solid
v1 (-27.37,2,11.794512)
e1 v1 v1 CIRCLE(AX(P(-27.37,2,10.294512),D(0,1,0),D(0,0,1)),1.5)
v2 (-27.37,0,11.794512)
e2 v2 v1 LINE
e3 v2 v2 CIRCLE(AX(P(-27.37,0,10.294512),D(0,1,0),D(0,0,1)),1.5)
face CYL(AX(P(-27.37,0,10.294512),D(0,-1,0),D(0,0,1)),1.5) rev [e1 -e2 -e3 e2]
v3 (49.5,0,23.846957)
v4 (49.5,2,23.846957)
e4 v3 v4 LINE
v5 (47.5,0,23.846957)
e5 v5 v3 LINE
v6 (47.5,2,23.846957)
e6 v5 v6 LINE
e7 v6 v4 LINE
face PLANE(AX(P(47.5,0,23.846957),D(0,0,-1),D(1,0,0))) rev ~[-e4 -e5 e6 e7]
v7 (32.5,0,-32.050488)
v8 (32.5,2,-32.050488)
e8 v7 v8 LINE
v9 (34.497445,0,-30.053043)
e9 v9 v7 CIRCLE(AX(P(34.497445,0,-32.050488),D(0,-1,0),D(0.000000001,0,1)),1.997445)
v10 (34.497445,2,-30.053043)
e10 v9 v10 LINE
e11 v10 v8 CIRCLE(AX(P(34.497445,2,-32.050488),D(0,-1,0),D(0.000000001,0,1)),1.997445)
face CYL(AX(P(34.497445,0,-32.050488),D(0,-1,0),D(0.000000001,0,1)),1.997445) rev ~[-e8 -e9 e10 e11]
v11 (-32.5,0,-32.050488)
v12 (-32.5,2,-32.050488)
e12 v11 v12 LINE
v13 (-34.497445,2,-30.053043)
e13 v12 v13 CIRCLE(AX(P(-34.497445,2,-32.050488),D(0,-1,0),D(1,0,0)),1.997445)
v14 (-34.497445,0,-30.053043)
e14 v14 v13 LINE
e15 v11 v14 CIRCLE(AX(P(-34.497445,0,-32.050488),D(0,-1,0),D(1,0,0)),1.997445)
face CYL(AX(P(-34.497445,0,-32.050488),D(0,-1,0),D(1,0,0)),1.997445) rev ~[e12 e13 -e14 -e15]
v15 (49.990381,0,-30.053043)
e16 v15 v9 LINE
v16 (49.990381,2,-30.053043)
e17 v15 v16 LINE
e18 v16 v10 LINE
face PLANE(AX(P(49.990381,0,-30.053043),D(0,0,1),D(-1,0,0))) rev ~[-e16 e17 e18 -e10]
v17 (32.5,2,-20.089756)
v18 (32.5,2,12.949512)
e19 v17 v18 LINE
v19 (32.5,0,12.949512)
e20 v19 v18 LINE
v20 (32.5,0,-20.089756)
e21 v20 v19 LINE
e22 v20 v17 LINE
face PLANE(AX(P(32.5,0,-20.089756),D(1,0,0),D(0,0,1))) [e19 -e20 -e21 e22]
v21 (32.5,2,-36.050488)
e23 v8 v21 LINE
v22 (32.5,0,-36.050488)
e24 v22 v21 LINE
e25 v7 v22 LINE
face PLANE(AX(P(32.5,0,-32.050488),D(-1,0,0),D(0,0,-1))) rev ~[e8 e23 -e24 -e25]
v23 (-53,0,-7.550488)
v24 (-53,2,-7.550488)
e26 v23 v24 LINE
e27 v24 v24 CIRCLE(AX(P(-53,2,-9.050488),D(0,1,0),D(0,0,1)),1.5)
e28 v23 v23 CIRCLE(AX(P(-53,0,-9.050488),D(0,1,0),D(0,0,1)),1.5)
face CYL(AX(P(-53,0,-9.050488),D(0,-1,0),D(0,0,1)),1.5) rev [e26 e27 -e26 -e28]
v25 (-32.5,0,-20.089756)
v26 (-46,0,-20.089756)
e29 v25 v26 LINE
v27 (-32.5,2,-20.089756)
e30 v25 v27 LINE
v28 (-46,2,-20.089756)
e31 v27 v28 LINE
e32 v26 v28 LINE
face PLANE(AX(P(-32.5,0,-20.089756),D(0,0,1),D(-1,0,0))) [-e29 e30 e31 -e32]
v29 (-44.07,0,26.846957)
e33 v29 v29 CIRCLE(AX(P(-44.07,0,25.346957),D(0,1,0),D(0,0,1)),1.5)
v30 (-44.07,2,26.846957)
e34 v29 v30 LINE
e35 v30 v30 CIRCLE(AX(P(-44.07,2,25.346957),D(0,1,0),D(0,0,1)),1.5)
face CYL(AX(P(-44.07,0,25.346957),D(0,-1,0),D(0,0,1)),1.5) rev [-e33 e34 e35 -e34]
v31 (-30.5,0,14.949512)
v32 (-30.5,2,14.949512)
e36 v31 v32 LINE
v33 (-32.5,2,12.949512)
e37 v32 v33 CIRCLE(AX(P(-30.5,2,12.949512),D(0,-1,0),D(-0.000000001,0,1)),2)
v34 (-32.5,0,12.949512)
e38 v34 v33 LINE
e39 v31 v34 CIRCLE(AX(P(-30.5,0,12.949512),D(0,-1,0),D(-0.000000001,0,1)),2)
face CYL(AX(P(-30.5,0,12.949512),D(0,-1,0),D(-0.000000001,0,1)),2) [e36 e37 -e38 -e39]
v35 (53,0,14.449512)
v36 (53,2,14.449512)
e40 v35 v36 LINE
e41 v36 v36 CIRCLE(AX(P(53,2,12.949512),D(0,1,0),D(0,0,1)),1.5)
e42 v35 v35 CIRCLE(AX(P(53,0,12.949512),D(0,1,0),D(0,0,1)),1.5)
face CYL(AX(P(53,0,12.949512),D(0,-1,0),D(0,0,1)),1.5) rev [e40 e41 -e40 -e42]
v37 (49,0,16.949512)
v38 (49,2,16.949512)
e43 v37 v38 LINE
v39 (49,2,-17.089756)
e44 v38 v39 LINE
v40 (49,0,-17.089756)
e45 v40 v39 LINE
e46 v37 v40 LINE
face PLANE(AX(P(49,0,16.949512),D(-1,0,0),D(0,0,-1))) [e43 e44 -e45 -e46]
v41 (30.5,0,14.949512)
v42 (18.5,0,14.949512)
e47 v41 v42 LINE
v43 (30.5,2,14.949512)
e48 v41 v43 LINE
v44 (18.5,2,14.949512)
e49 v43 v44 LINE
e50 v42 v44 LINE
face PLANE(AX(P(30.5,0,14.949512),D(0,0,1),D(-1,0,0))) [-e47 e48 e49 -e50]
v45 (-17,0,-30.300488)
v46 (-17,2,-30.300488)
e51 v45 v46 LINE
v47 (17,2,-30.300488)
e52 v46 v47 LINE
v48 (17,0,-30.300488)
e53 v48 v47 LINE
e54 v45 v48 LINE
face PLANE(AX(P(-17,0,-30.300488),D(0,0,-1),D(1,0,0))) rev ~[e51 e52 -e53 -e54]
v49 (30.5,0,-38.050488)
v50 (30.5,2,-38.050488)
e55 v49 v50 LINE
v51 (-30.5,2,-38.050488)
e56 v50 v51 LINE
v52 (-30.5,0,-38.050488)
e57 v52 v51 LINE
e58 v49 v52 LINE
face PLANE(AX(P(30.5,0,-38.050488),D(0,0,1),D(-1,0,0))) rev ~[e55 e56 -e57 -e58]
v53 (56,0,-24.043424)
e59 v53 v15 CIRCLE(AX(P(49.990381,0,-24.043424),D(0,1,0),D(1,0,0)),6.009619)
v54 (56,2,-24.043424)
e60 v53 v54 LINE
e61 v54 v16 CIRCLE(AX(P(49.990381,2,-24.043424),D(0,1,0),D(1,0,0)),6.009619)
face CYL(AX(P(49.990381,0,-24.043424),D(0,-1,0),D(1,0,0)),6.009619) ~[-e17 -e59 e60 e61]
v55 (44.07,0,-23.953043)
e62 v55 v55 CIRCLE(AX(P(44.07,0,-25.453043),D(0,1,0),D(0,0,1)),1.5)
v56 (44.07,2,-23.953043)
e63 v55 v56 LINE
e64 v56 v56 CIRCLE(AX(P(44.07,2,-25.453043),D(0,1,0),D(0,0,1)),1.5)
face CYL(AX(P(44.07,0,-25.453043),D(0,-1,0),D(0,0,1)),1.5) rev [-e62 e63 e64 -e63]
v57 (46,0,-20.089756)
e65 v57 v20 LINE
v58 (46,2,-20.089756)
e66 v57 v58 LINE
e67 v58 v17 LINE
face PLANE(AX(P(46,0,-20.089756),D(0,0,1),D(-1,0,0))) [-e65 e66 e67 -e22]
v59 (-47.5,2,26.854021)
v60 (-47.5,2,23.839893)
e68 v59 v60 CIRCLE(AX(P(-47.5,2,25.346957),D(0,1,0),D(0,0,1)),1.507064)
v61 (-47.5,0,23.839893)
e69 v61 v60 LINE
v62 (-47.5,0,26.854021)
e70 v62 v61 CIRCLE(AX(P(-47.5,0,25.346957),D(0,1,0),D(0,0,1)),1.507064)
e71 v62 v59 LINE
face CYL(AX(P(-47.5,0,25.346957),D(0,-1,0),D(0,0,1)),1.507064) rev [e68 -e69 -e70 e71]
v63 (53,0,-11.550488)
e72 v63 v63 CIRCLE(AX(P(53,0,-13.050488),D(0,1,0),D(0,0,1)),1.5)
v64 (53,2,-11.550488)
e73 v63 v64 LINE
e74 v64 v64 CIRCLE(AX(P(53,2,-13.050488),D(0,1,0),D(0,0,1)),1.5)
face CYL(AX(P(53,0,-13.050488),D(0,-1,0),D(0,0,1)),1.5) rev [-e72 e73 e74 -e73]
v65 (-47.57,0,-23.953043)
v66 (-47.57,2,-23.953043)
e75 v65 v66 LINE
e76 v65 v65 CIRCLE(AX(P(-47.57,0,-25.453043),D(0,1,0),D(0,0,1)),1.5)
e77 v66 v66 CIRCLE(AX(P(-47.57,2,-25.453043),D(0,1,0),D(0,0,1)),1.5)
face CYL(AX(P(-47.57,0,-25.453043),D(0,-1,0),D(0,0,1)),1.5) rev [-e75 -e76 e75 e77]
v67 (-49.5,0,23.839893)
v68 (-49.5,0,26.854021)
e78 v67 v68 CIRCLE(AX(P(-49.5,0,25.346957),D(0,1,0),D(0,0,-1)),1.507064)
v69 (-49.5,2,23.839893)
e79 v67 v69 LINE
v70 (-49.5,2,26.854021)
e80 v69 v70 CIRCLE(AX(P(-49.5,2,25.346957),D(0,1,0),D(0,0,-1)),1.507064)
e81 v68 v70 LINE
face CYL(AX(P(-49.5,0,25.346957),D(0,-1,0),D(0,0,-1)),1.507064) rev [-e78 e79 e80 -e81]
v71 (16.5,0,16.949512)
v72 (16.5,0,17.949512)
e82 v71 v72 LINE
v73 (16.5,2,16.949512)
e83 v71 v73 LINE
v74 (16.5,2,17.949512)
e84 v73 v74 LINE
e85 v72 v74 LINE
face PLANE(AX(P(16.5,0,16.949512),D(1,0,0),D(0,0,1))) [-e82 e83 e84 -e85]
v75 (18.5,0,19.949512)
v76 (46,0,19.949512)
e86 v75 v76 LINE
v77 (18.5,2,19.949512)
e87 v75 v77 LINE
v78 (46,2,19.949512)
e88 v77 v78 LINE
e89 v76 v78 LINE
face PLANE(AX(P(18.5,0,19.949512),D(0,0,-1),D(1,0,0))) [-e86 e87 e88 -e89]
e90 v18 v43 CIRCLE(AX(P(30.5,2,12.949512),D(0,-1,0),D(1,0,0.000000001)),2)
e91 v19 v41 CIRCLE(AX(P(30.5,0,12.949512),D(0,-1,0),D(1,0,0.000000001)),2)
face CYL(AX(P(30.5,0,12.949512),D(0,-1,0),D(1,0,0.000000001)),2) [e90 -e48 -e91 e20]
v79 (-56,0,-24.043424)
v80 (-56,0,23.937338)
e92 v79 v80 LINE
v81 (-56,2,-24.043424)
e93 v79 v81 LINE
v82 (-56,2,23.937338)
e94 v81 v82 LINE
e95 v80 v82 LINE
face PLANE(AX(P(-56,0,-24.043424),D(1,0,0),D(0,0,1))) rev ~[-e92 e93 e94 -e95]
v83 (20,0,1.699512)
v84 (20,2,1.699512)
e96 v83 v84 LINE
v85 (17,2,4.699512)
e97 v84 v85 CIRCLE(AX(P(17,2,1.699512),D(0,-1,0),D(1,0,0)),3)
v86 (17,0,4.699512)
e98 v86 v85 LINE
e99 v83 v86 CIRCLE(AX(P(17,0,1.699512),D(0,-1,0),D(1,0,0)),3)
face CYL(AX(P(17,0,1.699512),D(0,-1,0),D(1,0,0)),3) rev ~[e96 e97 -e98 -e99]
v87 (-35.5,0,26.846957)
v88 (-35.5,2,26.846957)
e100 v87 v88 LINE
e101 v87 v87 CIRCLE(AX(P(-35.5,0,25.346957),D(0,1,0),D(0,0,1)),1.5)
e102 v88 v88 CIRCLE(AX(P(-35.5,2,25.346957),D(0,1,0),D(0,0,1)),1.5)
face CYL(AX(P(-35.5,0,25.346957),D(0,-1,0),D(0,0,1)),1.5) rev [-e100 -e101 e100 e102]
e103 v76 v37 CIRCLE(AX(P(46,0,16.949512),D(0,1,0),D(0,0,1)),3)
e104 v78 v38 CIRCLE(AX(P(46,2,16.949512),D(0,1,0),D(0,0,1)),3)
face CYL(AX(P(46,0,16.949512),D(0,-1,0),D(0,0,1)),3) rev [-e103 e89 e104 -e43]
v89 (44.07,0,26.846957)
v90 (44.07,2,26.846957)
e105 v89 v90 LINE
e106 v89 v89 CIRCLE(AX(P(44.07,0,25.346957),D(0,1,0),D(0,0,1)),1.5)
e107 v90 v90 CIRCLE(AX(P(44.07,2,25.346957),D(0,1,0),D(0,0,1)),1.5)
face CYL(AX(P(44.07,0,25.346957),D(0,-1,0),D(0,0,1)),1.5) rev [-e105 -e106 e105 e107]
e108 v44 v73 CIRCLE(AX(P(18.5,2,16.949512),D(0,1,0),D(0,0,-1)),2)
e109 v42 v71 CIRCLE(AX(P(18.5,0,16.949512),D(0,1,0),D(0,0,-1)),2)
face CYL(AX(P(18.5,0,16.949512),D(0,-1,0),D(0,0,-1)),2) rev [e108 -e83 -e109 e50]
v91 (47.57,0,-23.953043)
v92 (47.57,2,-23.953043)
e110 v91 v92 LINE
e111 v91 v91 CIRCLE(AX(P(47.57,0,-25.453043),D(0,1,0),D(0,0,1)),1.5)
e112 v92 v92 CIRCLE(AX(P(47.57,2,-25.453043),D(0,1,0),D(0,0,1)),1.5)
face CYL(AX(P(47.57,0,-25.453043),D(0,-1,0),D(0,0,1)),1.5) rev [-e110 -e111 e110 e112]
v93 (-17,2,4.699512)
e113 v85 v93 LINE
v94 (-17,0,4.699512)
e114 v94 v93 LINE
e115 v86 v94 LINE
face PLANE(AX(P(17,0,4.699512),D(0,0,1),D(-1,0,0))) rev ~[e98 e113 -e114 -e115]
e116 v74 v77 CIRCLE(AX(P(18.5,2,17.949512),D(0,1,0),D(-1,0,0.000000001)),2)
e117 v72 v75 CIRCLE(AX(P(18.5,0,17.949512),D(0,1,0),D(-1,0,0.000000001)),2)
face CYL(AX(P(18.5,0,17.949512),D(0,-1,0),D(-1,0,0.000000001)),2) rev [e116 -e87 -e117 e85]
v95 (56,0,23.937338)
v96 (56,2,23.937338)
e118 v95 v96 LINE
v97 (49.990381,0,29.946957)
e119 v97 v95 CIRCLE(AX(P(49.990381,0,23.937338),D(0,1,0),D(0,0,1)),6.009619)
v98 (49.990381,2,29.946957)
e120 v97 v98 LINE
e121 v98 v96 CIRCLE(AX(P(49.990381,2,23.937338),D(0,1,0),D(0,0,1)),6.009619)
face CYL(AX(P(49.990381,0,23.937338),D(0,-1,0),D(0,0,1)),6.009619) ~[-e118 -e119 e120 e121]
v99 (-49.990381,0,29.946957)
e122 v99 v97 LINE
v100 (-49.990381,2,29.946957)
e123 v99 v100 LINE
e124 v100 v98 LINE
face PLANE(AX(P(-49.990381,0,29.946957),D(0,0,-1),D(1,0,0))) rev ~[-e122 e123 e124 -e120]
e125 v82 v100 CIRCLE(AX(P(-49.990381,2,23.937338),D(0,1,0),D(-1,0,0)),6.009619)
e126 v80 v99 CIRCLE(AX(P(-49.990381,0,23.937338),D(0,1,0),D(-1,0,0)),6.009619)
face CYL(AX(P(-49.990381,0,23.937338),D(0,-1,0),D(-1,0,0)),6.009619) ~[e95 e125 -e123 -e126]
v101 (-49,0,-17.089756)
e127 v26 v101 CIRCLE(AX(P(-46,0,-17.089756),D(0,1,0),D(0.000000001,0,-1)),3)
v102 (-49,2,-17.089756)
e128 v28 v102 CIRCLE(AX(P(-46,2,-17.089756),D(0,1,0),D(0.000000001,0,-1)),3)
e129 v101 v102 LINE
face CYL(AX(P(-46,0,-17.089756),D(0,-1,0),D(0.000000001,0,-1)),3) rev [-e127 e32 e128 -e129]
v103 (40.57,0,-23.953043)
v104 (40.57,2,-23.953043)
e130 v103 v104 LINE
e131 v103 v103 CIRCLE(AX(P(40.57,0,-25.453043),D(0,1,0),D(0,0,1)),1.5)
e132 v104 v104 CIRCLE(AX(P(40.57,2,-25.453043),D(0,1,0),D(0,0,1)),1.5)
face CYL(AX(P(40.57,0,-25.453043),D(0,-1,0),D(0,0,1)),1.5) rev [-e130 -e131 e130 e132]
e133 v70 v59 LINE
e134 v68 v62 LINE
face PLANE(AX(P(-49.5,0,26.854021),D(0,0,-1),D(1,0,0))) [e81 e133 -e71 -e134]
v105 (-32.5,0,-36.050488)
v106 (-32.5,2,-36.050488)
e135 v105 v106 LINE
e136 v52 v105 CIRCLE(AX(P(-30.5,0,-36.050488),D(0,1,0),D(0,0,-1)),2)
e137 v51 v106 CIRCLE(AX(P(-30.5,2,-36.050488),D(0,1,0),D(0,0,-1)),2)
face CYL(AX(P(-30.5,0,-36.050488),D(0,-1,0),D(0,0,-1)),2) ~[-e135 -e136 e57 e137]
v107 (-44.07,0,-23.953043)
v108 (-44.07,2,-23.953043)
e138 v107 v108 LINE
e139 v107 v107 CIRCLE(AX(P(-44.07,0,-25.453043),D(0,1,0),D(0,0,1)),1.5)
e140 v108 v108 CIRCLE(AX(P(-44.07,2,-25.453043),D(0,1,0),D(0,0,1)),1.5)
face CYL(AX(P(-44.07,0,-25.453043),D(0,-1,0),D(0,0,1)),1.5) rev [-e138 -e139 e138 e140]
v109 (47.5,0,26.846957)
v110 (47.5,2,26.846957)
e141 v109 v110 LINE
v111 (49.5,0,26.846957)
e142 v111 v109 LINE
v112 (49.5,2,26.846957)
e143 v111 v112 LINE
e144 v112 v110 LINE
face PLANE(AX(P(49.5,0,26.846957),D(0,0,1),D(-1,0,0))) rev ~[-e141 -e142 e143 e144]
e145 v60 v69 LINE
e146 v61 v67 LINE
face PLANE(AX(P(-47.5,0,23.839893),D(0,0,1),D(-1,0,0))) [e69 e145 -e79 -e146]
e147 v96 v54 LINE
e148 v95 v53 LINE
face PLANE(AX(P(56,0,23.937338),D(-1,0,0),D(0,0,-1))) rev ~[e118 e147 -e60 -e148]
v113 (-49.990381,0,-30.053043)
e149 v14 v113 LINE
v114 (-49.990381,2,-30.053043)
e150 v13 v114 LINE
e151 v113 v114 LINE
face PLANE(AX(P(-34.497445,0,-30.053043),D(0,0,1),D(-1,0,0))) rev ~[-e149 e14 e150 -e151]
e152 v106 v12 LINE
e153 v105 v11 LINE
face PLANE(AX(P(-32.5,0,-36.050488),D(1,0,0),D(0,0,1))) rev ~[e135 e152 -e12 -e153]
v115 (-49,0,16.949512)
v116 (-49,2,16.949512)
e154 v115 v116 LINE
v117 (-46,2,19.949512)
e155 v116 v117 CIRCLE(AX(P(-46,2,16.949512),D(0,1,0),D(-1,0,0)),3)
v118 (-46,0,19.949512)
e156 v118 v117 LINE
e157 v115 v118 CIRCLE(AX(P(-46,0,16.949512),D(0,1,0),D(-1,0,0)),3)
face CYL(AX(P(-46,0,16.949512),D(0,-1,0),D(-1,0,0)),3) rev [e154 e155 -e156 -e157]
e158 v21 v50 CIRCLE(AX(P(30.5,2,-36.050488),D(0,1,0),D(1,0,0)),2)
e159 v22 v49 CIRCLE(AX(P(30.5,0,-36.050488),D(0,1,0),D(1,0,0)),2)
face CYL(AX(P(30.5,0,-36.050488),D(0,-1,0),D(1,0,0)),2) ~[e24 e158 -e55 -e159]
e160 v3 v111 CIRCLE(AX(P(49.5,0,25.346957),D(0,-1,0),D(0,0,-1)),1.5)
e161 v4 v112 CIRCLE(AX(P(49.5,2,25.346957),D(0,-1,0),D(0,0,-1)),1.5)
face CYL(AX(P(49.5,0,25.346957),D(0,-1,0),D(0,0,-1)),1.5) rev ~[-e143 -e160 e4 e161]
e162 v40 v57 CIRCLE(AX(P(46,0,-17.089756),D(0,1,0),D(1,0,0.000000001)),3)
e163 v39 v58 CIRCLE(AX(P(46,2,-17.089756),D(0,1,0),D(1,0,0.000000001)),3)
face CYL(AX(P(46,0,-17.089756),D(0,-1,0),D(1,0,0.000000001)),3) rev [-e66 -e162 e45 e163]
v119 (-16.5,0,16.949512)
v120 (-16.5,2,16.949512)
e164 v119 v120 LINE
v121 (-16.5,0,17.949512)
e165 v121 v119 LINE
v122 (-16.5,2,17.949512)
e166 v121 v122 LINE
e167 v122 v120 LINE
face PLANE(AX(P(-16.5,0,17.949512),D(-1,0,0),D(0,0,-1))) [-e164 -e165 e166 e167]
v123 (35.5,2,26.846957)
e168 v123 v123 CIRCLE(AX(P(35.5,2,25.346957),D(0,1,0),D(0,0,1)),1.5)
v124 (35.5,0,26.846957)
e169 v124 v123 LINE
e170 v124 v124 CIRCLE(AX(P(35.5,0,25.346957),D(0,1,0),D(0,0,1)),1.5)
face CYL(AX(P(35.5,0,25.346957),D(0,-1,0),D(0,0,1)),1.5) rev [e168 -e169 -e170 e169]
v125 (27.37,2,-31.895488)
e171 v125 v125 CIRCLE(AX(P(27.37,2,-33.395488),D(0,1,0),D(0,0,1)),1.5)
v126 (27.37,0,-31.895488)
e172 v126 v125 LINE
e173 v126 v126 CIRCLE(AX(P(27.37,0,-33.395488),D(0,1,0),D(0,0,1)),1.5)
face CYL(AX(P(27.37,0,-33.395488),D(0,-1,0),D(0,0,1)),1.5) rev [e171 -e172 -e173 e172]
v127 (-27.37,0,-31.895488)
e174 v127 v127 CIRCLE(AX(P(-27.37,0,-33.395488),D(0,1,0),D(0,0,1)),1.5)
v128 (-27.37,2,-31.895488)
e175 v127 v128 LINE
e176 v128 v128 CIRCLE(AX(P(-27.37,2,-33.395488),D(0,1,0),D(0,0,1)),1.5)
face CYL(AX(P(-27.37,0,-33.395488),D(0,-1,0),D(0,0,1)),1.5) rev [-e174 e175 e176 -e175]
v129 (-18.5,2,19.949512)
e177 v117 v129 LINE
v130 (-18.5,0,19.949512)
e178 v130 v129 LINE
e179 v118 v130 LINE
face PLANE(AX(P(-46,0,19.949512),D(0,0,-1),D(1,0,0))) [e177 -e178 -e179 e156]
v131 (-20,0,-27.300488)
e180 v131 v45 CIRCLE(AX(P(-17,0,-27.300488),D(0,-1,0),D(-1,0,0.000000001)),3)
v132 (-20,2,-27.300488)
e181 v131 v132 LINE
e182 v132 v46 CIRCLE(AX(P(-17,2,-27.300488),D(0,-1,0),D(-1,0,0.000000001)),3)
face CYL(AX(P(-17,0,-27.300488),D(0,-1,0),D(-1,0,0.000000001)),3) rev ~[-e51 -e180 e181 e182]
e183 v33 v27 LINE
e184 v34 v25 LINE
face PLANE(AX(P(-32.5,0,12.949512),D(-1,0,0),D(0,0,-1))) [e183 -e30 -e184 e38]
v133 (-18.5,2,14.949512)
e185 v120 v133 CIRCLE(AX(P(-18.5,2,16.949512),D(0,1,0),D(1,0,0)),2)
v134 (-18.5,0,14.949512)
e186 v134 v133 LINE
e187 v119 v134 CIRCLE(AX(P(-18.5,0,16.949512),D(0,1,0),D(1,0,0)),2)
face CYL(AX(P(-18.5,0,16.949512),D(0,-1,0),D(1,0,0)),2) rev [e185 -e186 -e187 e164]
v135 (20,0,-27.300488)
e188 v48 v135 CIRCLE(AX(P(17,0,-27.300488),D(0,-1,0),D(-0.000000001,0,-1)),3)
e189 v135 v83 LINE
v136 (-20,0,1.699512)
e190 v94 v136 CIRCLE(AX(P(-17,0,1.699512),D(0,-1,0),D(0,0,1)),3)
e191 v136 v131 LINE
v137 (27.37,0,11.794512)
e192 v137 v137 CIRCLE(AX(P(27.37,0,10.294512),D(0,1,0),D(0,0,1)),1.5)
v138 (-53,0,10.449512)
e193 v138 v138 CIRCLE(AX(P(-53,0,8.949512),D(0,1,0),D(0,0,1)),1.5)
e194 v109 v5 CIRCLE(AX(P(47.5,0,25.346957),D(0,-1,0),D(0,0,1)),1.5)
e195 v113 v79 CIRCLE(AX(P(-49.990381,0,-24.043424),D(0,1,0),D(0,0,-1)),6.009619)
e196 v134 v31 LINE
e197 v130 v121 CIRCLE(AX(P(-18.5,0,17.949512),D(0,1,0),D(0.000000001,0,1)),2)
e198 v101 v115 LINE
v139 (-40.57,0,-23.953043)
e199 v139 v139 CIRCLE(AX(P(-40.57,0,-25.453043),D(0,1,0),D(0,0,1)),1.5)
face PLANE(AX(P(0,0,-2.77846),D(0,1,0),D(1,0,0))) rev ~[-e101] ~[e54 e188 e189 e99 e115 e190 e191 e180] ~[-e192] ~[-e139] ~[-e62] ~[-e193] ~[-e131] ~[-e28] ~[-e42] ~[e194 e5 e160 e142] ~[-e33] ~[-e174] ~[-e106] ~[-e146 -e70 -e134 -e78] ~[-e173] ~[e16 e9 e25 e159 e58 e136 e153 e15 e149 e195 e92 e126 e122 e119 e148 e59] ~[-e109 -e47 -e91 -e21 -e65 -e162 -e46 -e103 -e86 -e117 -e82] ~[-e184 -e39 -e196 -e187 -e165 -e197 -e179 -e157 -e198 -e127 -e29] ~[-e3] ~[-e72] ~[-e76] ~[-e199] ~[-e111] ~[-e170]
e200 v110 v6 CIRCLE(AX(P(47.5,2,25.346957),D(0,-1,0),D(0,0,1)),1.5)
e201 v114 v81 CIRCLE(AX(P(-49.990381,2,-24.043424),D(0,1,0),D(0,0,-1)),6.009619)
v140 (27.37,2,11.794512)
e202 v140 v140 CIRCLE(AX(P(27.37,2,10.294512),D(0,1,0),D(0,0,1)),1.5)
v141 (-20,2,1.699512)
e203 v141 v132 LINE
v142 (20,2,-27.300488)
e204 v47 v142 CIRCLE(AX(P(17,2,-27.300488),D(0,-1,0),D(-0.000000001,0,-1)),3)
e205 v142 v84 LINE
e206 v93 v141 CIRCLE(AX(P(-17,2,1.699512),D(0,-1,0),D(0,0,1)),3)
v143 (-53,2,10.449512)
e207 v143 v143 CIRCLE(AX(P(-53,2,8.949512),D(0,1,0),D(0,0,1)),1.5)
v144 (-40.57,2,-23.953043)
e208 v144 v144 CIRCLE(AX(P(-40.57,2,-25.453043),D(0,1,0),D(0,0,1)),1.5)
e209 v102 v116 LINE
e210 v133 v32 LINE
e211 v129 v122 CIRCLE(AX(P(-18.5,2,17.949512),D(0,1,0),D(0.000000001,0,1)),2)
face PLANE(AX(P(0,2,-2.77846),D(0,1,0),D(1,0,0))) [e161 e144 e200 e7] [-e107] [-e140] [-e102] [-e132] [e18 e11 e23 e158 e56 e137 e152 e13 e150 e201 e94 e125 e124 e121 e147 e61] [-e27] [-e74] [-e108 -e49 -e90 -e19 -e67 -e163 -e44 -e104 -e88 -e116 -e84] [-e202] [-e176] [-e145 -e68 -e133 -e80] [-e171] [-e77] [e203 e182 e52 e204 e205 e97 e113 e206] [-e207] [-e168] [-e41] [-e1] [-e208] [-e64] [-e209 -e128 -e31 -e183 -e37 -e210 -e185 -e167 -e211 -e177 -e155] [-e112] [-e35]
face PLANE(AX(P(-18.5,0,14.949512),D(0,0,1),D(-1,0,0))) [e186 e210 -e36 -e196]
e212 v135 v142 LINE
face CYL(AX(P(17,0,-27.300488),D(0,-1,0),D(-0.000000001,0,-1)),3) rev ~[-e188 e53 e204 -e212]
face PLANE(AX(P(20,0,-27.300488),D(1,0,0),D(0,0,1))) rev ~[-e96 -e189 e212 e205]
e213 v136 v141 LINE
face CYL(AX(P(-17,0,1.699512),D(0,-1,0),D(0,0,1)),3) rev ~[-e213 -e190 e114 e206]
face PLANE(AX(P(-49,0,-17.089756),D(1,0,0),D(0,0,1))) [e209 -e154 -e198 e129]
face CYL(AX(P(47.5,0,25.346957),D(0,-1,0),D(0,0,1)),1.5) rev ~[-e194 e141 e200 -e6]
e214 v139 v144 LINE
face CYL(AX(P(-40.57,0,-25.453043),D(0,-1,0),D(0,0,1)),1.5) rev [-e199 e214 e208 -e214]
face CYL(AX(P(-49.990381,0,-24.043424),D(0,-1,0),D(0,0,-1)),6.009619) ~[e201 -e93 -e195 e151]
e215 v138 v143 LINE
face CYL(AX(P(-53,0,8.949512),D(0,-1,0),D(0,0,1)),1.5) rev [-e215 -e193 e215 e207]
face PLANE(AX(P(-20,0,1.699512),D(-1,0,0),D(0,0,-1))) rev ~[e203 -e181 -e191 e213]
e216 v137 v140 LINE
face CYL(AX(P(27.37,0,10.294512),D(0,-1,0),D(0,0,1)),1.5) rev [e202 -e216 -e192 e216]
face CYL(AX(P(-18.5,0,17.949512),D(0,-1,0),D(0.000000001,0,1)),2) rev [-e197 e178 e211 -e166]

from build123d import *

# Parameters (mm, degrees)
SKETCH_1_R      = 1.5
EXTRUDE_1_DEPTH = 2


with BuildPart() as part:
    # 草图1 → 凸台-拉伸1 (new body)
    with BuildSketch(Plane(origin=(0, 0, 0), x_dir=(1, 0, 0), z_dir=(0, 1, 0))):
        with BuildLine():
            Line((-49.990380792, -29.946956811), (49.990380792, -29.946956811))
            ThreePointArc((49.990380792, -29.946956811), (54.239823286, -28.186780098), (56, -23.937337603))
            Line((56, -23.937337603), (56, 24.043423981))
            ThreePointArc((56, 24.043423981), (54.239823286, 28.292866475), (49.990380792, 30.053043189))
            Line((49.990380792, 30.053043189), (34.49744459, 30.053043189))
            ThreePointArc((34.49744459, 30.053043189), (33.085037975, 30.638081164), (32.5, 32.050487778))
            Line((32.5, 32.050487778), (32.5, 36.050487778))
            ThreePointArc((32.5, 36.050487778), (31.914213562, 37.464701341), (30.5, 38.050487778))
            Line((30.5, 38.050487778), (-30.5, 38.050487778))
            ThreePointArc((-30.5, 38.050487778), (-31.914213562, 37.464701341), (-32.5, 36.050487778))
            Line((-32.5, 36.050487778), (-32.5, 32.050487778))
            ThreePointArc((-32.5, 32.050487778), (-33.085037975, 30.638081164), (-34.49744459, 30.053043189))
            Line((-34.49744459, 30.053043189), (-49.990380792, 30.053043189))
            ThreePointArc((-49.990380792, 30.053043189), (-54.239823286, 28.292866475), (-56, 24.043423981))
            Line((-56, 24.043423981), (-56, -23.937337603))
            ThreePointArc((-56, -23.937337603), (-54.239823286, -28.186780098), (-49.990380792, -29.946956811))
        make_face()
        with Locations(Location((27.37, 33.395487778, 0), (0, 0, 270))):
            Circle(SKETCH_1_R, mode=Mode.SUBTRACT)
        with Locations(Location((27.37, -10.294512222, 0), (0, 0, 270))):
            Circle(SKETCH_1_R, mode=Mode.SUBTRACT)
        with Locations(Location((53, 13.050487778, 0), (0, 0, 270))):
            Circle(SKETCH_1_R, mode=Mode.SUBTRACT)
        with Locations(Location((53, -12.949512222, 0), (0, 0, 270))):
            Circle(SKETCH_1_R, mode=Mode.SUBTRACT)
        with Locations(Location((35.500000351, -25.346956811, 0), (0, 0, 270))):
            Circle(SKETCH_1_R, mode=Mode.SUBTRACT)
        with Locations(Location((-27.37, 33.395487778, 0), (0, 0, 270))):
            Circle(SKETCH_1_R, mode=Mode.SUBTRACT)
        with Locations(Location((-53, 9.050487778, 0), (0, 0, 270))):
            Circle(SKETCH_1_R, mode=Mode.SUBTRACT)
        with Locations(Location((-53, -8.949512222, 0), (0, 0, 270))):
            Circle(SKETCH_1_R, mode=Mode.SUBTRACT)
        with Locations(Location((-35.499999649, -25.346956811, 0), (0, 0, 270))):
            Circle(SKETCH_1_R, mode=Mode.SUBTRACT)
        with Locations(Location((-27.37, -10.294512222, 0), (0, 0, 270))):
            Circle(SKETCH_1_R, mode=Mode.SUBTRACT)
        with Locations(Location((-44.07, -25.346956811, 0), (0, 0, 270))):
            Circle(SKETCH_1_R, mode=Mode.SUBTRACT)
        with Locations(Location((44.07, -25.346956811, 0), (0, 0, 270))):
            Circle(SKETCH_1_R, mode=Mode.SUBTRACT)
        with Locations(Location((-44.07, 25.453043189, 0), (0, 0, 270))):
            Circle(SKETCH_1_R, mode=Mode.SUBTRACT)
        with Locations(Location((-47.57, 25.453043189, 0), (0, 0, 270))):
            Circle(SKETCH_1_R, mode=Mode.SUBTRACT)
        with Locations(Location((-40.57, 25.453043189, 0), (0, 0, 270))):
            Circle(SKETCH_1_R, mode=Mode.SUBTRACT)
        with Locations(Location((44.07, 25.453043189, 0), (0, 0, 270))):
            Circle(SKETCH_1_R, mode=Mode.SUBTRACT)
        with Locations(Location((47.57, 25.453043189, 0), (0, 0, 270))):
            Circle(SKETCH_1_R, mode=Mode.SUBTRACT)
        with Locations(Location((40.57, 25.453043189, 0), (0, 0, 270))):
            Circle(SKETCH_1_R, mode=Mode.SUBTRACT)
        with BuildLine():
            Line((-46, -19.949512222), (-18.5, -19.949512222))
            ThreePointArc((-18.5, -19.949512222), (-17.085786438, -19.363725784), (-16.5, -17.949512222))
            Line((-16.5, -17.949512222), (-16.5, -16.949512222))
            ThreePointArc((-16.5, -16.949512222), (-17.085786438, -15.535298659), (-18.5, -14.949512222))
            Line((-18.5, -14.949512222), (-30.5, -14.949512222))
            ThreePointArc((-30.5, -14.949512222), (-31.914213562, -14.363725784), (-32.5, -12.949512222))
            Line((-32.5, -12.949512222), (-32.5, 20.08975605))
            Line((-32.5, 20.08975605), (-46, 20.08975605))
            ThreePointArc((-46, 20.08975605), (-48.121320344, 19.211076394), (-49, 17.08975605))
            Line((-49, 17.08975605), (-49, -16.949512222))
            ThreePointArc((-49, -16.949512222), (-48.121320344, -19.070832565), (-46, -19.949512222))
        make_face(mode=Mode.SUBTRACT)
        with BuildLine():
            Line((49, -16.949512222), (49, 17.08975605))
            ThreePointArc((49, 17.08975605), (48.121320344, 19.211076394), (46, 20.08975605))
            Line((46, 20.08975605), (32.5, 20.08975605))
            Line((32.5, 20.08975605), (32.5, -12.949512222))
            ThreePointArc((32.5, -12.949512222), (31.914213562, -14.363725784), (30.5, -14.949512222))
            Line((30.5, -14.949512222), (18.5, -14.949512222))
            ThreePointArc((18.5, -14.949512222), (17.085786438, -15.535298659), (16.5, -16.949512222))
            Line((16.5, -16.949512222), (16.5, -17.949512222))
            ThreePointArc((16.5, -17.949512222), (17.085786438, -19.363725784), (18.5, -19.949512222))
            Line((18.5, -19.949512222), (46, -19.949512222))
            ThreePointArc((46, -19.949512222), (48.121320344, -19.070832565), (49, -16.949512222))
        make_face(mode=Mode.SUBTRACT)
        with BuildLine():
            Line((-17, 30.300487778), (17, 30.300487778))
            ThreePointArc((17, 30.300487778), (19.121320344, 29.421808122), (20, 27.300487778))
            Line((20, 27.300487778), (20, -1.699512222))
            ThreePointArc((20, -1.699512222), (19.121320344, -3.820832565), (17, -4.699512222))
            Line((17, -4.699512222), (-17, -4.699512222))
            ThreePointArc((-17, -4.699512222), (-19.121320344, -3.820832565), (-20, -1.699512222))
            Line((-20, -1.699512222), (-20, 27.300487778))
            ThreePointArc((-20, 27.300487778), (-19.121320344, 29.421808122), (-17, 30.300487778))
        make_face(mode=Mode.SUBTRACT)
        with BuildLine():
            Line((47.5, -23.846956811), (49.5, -23.846956811))
            ThreePointArc((49.5, -23.846956811), (51, -25.346956811), (49.5, -26.846956811))
            Line((49.5, -26.846956811), (47.5, -26.846956811))
            ThreePointArc((47.5, -26.846956811), (46, -25.346956811), (47.5, -23.846956811))
        make_face(mode=Mode.SUBTRACT)
        with BuildLine():
            Line((-47.5, -23.839893014), (-49.5, -23.839893014))
            ThreePointArc((-49.5, -23.839893014), (-51.007063798, -25.346956811), (-49.5, -26.854020609))
            Line((-49.5, -26.854020609), (-47.5, -26.854020609))
            ThreePointArc((-47.5, -26.854020609), (-45.992936202, -25.346956811), (-47.5, -23.839893014))
        make_face(mode=Mode.SUBTRACT)
    extrude(amount=EXTRUDE_1_DEPTH)


solid = part.part
